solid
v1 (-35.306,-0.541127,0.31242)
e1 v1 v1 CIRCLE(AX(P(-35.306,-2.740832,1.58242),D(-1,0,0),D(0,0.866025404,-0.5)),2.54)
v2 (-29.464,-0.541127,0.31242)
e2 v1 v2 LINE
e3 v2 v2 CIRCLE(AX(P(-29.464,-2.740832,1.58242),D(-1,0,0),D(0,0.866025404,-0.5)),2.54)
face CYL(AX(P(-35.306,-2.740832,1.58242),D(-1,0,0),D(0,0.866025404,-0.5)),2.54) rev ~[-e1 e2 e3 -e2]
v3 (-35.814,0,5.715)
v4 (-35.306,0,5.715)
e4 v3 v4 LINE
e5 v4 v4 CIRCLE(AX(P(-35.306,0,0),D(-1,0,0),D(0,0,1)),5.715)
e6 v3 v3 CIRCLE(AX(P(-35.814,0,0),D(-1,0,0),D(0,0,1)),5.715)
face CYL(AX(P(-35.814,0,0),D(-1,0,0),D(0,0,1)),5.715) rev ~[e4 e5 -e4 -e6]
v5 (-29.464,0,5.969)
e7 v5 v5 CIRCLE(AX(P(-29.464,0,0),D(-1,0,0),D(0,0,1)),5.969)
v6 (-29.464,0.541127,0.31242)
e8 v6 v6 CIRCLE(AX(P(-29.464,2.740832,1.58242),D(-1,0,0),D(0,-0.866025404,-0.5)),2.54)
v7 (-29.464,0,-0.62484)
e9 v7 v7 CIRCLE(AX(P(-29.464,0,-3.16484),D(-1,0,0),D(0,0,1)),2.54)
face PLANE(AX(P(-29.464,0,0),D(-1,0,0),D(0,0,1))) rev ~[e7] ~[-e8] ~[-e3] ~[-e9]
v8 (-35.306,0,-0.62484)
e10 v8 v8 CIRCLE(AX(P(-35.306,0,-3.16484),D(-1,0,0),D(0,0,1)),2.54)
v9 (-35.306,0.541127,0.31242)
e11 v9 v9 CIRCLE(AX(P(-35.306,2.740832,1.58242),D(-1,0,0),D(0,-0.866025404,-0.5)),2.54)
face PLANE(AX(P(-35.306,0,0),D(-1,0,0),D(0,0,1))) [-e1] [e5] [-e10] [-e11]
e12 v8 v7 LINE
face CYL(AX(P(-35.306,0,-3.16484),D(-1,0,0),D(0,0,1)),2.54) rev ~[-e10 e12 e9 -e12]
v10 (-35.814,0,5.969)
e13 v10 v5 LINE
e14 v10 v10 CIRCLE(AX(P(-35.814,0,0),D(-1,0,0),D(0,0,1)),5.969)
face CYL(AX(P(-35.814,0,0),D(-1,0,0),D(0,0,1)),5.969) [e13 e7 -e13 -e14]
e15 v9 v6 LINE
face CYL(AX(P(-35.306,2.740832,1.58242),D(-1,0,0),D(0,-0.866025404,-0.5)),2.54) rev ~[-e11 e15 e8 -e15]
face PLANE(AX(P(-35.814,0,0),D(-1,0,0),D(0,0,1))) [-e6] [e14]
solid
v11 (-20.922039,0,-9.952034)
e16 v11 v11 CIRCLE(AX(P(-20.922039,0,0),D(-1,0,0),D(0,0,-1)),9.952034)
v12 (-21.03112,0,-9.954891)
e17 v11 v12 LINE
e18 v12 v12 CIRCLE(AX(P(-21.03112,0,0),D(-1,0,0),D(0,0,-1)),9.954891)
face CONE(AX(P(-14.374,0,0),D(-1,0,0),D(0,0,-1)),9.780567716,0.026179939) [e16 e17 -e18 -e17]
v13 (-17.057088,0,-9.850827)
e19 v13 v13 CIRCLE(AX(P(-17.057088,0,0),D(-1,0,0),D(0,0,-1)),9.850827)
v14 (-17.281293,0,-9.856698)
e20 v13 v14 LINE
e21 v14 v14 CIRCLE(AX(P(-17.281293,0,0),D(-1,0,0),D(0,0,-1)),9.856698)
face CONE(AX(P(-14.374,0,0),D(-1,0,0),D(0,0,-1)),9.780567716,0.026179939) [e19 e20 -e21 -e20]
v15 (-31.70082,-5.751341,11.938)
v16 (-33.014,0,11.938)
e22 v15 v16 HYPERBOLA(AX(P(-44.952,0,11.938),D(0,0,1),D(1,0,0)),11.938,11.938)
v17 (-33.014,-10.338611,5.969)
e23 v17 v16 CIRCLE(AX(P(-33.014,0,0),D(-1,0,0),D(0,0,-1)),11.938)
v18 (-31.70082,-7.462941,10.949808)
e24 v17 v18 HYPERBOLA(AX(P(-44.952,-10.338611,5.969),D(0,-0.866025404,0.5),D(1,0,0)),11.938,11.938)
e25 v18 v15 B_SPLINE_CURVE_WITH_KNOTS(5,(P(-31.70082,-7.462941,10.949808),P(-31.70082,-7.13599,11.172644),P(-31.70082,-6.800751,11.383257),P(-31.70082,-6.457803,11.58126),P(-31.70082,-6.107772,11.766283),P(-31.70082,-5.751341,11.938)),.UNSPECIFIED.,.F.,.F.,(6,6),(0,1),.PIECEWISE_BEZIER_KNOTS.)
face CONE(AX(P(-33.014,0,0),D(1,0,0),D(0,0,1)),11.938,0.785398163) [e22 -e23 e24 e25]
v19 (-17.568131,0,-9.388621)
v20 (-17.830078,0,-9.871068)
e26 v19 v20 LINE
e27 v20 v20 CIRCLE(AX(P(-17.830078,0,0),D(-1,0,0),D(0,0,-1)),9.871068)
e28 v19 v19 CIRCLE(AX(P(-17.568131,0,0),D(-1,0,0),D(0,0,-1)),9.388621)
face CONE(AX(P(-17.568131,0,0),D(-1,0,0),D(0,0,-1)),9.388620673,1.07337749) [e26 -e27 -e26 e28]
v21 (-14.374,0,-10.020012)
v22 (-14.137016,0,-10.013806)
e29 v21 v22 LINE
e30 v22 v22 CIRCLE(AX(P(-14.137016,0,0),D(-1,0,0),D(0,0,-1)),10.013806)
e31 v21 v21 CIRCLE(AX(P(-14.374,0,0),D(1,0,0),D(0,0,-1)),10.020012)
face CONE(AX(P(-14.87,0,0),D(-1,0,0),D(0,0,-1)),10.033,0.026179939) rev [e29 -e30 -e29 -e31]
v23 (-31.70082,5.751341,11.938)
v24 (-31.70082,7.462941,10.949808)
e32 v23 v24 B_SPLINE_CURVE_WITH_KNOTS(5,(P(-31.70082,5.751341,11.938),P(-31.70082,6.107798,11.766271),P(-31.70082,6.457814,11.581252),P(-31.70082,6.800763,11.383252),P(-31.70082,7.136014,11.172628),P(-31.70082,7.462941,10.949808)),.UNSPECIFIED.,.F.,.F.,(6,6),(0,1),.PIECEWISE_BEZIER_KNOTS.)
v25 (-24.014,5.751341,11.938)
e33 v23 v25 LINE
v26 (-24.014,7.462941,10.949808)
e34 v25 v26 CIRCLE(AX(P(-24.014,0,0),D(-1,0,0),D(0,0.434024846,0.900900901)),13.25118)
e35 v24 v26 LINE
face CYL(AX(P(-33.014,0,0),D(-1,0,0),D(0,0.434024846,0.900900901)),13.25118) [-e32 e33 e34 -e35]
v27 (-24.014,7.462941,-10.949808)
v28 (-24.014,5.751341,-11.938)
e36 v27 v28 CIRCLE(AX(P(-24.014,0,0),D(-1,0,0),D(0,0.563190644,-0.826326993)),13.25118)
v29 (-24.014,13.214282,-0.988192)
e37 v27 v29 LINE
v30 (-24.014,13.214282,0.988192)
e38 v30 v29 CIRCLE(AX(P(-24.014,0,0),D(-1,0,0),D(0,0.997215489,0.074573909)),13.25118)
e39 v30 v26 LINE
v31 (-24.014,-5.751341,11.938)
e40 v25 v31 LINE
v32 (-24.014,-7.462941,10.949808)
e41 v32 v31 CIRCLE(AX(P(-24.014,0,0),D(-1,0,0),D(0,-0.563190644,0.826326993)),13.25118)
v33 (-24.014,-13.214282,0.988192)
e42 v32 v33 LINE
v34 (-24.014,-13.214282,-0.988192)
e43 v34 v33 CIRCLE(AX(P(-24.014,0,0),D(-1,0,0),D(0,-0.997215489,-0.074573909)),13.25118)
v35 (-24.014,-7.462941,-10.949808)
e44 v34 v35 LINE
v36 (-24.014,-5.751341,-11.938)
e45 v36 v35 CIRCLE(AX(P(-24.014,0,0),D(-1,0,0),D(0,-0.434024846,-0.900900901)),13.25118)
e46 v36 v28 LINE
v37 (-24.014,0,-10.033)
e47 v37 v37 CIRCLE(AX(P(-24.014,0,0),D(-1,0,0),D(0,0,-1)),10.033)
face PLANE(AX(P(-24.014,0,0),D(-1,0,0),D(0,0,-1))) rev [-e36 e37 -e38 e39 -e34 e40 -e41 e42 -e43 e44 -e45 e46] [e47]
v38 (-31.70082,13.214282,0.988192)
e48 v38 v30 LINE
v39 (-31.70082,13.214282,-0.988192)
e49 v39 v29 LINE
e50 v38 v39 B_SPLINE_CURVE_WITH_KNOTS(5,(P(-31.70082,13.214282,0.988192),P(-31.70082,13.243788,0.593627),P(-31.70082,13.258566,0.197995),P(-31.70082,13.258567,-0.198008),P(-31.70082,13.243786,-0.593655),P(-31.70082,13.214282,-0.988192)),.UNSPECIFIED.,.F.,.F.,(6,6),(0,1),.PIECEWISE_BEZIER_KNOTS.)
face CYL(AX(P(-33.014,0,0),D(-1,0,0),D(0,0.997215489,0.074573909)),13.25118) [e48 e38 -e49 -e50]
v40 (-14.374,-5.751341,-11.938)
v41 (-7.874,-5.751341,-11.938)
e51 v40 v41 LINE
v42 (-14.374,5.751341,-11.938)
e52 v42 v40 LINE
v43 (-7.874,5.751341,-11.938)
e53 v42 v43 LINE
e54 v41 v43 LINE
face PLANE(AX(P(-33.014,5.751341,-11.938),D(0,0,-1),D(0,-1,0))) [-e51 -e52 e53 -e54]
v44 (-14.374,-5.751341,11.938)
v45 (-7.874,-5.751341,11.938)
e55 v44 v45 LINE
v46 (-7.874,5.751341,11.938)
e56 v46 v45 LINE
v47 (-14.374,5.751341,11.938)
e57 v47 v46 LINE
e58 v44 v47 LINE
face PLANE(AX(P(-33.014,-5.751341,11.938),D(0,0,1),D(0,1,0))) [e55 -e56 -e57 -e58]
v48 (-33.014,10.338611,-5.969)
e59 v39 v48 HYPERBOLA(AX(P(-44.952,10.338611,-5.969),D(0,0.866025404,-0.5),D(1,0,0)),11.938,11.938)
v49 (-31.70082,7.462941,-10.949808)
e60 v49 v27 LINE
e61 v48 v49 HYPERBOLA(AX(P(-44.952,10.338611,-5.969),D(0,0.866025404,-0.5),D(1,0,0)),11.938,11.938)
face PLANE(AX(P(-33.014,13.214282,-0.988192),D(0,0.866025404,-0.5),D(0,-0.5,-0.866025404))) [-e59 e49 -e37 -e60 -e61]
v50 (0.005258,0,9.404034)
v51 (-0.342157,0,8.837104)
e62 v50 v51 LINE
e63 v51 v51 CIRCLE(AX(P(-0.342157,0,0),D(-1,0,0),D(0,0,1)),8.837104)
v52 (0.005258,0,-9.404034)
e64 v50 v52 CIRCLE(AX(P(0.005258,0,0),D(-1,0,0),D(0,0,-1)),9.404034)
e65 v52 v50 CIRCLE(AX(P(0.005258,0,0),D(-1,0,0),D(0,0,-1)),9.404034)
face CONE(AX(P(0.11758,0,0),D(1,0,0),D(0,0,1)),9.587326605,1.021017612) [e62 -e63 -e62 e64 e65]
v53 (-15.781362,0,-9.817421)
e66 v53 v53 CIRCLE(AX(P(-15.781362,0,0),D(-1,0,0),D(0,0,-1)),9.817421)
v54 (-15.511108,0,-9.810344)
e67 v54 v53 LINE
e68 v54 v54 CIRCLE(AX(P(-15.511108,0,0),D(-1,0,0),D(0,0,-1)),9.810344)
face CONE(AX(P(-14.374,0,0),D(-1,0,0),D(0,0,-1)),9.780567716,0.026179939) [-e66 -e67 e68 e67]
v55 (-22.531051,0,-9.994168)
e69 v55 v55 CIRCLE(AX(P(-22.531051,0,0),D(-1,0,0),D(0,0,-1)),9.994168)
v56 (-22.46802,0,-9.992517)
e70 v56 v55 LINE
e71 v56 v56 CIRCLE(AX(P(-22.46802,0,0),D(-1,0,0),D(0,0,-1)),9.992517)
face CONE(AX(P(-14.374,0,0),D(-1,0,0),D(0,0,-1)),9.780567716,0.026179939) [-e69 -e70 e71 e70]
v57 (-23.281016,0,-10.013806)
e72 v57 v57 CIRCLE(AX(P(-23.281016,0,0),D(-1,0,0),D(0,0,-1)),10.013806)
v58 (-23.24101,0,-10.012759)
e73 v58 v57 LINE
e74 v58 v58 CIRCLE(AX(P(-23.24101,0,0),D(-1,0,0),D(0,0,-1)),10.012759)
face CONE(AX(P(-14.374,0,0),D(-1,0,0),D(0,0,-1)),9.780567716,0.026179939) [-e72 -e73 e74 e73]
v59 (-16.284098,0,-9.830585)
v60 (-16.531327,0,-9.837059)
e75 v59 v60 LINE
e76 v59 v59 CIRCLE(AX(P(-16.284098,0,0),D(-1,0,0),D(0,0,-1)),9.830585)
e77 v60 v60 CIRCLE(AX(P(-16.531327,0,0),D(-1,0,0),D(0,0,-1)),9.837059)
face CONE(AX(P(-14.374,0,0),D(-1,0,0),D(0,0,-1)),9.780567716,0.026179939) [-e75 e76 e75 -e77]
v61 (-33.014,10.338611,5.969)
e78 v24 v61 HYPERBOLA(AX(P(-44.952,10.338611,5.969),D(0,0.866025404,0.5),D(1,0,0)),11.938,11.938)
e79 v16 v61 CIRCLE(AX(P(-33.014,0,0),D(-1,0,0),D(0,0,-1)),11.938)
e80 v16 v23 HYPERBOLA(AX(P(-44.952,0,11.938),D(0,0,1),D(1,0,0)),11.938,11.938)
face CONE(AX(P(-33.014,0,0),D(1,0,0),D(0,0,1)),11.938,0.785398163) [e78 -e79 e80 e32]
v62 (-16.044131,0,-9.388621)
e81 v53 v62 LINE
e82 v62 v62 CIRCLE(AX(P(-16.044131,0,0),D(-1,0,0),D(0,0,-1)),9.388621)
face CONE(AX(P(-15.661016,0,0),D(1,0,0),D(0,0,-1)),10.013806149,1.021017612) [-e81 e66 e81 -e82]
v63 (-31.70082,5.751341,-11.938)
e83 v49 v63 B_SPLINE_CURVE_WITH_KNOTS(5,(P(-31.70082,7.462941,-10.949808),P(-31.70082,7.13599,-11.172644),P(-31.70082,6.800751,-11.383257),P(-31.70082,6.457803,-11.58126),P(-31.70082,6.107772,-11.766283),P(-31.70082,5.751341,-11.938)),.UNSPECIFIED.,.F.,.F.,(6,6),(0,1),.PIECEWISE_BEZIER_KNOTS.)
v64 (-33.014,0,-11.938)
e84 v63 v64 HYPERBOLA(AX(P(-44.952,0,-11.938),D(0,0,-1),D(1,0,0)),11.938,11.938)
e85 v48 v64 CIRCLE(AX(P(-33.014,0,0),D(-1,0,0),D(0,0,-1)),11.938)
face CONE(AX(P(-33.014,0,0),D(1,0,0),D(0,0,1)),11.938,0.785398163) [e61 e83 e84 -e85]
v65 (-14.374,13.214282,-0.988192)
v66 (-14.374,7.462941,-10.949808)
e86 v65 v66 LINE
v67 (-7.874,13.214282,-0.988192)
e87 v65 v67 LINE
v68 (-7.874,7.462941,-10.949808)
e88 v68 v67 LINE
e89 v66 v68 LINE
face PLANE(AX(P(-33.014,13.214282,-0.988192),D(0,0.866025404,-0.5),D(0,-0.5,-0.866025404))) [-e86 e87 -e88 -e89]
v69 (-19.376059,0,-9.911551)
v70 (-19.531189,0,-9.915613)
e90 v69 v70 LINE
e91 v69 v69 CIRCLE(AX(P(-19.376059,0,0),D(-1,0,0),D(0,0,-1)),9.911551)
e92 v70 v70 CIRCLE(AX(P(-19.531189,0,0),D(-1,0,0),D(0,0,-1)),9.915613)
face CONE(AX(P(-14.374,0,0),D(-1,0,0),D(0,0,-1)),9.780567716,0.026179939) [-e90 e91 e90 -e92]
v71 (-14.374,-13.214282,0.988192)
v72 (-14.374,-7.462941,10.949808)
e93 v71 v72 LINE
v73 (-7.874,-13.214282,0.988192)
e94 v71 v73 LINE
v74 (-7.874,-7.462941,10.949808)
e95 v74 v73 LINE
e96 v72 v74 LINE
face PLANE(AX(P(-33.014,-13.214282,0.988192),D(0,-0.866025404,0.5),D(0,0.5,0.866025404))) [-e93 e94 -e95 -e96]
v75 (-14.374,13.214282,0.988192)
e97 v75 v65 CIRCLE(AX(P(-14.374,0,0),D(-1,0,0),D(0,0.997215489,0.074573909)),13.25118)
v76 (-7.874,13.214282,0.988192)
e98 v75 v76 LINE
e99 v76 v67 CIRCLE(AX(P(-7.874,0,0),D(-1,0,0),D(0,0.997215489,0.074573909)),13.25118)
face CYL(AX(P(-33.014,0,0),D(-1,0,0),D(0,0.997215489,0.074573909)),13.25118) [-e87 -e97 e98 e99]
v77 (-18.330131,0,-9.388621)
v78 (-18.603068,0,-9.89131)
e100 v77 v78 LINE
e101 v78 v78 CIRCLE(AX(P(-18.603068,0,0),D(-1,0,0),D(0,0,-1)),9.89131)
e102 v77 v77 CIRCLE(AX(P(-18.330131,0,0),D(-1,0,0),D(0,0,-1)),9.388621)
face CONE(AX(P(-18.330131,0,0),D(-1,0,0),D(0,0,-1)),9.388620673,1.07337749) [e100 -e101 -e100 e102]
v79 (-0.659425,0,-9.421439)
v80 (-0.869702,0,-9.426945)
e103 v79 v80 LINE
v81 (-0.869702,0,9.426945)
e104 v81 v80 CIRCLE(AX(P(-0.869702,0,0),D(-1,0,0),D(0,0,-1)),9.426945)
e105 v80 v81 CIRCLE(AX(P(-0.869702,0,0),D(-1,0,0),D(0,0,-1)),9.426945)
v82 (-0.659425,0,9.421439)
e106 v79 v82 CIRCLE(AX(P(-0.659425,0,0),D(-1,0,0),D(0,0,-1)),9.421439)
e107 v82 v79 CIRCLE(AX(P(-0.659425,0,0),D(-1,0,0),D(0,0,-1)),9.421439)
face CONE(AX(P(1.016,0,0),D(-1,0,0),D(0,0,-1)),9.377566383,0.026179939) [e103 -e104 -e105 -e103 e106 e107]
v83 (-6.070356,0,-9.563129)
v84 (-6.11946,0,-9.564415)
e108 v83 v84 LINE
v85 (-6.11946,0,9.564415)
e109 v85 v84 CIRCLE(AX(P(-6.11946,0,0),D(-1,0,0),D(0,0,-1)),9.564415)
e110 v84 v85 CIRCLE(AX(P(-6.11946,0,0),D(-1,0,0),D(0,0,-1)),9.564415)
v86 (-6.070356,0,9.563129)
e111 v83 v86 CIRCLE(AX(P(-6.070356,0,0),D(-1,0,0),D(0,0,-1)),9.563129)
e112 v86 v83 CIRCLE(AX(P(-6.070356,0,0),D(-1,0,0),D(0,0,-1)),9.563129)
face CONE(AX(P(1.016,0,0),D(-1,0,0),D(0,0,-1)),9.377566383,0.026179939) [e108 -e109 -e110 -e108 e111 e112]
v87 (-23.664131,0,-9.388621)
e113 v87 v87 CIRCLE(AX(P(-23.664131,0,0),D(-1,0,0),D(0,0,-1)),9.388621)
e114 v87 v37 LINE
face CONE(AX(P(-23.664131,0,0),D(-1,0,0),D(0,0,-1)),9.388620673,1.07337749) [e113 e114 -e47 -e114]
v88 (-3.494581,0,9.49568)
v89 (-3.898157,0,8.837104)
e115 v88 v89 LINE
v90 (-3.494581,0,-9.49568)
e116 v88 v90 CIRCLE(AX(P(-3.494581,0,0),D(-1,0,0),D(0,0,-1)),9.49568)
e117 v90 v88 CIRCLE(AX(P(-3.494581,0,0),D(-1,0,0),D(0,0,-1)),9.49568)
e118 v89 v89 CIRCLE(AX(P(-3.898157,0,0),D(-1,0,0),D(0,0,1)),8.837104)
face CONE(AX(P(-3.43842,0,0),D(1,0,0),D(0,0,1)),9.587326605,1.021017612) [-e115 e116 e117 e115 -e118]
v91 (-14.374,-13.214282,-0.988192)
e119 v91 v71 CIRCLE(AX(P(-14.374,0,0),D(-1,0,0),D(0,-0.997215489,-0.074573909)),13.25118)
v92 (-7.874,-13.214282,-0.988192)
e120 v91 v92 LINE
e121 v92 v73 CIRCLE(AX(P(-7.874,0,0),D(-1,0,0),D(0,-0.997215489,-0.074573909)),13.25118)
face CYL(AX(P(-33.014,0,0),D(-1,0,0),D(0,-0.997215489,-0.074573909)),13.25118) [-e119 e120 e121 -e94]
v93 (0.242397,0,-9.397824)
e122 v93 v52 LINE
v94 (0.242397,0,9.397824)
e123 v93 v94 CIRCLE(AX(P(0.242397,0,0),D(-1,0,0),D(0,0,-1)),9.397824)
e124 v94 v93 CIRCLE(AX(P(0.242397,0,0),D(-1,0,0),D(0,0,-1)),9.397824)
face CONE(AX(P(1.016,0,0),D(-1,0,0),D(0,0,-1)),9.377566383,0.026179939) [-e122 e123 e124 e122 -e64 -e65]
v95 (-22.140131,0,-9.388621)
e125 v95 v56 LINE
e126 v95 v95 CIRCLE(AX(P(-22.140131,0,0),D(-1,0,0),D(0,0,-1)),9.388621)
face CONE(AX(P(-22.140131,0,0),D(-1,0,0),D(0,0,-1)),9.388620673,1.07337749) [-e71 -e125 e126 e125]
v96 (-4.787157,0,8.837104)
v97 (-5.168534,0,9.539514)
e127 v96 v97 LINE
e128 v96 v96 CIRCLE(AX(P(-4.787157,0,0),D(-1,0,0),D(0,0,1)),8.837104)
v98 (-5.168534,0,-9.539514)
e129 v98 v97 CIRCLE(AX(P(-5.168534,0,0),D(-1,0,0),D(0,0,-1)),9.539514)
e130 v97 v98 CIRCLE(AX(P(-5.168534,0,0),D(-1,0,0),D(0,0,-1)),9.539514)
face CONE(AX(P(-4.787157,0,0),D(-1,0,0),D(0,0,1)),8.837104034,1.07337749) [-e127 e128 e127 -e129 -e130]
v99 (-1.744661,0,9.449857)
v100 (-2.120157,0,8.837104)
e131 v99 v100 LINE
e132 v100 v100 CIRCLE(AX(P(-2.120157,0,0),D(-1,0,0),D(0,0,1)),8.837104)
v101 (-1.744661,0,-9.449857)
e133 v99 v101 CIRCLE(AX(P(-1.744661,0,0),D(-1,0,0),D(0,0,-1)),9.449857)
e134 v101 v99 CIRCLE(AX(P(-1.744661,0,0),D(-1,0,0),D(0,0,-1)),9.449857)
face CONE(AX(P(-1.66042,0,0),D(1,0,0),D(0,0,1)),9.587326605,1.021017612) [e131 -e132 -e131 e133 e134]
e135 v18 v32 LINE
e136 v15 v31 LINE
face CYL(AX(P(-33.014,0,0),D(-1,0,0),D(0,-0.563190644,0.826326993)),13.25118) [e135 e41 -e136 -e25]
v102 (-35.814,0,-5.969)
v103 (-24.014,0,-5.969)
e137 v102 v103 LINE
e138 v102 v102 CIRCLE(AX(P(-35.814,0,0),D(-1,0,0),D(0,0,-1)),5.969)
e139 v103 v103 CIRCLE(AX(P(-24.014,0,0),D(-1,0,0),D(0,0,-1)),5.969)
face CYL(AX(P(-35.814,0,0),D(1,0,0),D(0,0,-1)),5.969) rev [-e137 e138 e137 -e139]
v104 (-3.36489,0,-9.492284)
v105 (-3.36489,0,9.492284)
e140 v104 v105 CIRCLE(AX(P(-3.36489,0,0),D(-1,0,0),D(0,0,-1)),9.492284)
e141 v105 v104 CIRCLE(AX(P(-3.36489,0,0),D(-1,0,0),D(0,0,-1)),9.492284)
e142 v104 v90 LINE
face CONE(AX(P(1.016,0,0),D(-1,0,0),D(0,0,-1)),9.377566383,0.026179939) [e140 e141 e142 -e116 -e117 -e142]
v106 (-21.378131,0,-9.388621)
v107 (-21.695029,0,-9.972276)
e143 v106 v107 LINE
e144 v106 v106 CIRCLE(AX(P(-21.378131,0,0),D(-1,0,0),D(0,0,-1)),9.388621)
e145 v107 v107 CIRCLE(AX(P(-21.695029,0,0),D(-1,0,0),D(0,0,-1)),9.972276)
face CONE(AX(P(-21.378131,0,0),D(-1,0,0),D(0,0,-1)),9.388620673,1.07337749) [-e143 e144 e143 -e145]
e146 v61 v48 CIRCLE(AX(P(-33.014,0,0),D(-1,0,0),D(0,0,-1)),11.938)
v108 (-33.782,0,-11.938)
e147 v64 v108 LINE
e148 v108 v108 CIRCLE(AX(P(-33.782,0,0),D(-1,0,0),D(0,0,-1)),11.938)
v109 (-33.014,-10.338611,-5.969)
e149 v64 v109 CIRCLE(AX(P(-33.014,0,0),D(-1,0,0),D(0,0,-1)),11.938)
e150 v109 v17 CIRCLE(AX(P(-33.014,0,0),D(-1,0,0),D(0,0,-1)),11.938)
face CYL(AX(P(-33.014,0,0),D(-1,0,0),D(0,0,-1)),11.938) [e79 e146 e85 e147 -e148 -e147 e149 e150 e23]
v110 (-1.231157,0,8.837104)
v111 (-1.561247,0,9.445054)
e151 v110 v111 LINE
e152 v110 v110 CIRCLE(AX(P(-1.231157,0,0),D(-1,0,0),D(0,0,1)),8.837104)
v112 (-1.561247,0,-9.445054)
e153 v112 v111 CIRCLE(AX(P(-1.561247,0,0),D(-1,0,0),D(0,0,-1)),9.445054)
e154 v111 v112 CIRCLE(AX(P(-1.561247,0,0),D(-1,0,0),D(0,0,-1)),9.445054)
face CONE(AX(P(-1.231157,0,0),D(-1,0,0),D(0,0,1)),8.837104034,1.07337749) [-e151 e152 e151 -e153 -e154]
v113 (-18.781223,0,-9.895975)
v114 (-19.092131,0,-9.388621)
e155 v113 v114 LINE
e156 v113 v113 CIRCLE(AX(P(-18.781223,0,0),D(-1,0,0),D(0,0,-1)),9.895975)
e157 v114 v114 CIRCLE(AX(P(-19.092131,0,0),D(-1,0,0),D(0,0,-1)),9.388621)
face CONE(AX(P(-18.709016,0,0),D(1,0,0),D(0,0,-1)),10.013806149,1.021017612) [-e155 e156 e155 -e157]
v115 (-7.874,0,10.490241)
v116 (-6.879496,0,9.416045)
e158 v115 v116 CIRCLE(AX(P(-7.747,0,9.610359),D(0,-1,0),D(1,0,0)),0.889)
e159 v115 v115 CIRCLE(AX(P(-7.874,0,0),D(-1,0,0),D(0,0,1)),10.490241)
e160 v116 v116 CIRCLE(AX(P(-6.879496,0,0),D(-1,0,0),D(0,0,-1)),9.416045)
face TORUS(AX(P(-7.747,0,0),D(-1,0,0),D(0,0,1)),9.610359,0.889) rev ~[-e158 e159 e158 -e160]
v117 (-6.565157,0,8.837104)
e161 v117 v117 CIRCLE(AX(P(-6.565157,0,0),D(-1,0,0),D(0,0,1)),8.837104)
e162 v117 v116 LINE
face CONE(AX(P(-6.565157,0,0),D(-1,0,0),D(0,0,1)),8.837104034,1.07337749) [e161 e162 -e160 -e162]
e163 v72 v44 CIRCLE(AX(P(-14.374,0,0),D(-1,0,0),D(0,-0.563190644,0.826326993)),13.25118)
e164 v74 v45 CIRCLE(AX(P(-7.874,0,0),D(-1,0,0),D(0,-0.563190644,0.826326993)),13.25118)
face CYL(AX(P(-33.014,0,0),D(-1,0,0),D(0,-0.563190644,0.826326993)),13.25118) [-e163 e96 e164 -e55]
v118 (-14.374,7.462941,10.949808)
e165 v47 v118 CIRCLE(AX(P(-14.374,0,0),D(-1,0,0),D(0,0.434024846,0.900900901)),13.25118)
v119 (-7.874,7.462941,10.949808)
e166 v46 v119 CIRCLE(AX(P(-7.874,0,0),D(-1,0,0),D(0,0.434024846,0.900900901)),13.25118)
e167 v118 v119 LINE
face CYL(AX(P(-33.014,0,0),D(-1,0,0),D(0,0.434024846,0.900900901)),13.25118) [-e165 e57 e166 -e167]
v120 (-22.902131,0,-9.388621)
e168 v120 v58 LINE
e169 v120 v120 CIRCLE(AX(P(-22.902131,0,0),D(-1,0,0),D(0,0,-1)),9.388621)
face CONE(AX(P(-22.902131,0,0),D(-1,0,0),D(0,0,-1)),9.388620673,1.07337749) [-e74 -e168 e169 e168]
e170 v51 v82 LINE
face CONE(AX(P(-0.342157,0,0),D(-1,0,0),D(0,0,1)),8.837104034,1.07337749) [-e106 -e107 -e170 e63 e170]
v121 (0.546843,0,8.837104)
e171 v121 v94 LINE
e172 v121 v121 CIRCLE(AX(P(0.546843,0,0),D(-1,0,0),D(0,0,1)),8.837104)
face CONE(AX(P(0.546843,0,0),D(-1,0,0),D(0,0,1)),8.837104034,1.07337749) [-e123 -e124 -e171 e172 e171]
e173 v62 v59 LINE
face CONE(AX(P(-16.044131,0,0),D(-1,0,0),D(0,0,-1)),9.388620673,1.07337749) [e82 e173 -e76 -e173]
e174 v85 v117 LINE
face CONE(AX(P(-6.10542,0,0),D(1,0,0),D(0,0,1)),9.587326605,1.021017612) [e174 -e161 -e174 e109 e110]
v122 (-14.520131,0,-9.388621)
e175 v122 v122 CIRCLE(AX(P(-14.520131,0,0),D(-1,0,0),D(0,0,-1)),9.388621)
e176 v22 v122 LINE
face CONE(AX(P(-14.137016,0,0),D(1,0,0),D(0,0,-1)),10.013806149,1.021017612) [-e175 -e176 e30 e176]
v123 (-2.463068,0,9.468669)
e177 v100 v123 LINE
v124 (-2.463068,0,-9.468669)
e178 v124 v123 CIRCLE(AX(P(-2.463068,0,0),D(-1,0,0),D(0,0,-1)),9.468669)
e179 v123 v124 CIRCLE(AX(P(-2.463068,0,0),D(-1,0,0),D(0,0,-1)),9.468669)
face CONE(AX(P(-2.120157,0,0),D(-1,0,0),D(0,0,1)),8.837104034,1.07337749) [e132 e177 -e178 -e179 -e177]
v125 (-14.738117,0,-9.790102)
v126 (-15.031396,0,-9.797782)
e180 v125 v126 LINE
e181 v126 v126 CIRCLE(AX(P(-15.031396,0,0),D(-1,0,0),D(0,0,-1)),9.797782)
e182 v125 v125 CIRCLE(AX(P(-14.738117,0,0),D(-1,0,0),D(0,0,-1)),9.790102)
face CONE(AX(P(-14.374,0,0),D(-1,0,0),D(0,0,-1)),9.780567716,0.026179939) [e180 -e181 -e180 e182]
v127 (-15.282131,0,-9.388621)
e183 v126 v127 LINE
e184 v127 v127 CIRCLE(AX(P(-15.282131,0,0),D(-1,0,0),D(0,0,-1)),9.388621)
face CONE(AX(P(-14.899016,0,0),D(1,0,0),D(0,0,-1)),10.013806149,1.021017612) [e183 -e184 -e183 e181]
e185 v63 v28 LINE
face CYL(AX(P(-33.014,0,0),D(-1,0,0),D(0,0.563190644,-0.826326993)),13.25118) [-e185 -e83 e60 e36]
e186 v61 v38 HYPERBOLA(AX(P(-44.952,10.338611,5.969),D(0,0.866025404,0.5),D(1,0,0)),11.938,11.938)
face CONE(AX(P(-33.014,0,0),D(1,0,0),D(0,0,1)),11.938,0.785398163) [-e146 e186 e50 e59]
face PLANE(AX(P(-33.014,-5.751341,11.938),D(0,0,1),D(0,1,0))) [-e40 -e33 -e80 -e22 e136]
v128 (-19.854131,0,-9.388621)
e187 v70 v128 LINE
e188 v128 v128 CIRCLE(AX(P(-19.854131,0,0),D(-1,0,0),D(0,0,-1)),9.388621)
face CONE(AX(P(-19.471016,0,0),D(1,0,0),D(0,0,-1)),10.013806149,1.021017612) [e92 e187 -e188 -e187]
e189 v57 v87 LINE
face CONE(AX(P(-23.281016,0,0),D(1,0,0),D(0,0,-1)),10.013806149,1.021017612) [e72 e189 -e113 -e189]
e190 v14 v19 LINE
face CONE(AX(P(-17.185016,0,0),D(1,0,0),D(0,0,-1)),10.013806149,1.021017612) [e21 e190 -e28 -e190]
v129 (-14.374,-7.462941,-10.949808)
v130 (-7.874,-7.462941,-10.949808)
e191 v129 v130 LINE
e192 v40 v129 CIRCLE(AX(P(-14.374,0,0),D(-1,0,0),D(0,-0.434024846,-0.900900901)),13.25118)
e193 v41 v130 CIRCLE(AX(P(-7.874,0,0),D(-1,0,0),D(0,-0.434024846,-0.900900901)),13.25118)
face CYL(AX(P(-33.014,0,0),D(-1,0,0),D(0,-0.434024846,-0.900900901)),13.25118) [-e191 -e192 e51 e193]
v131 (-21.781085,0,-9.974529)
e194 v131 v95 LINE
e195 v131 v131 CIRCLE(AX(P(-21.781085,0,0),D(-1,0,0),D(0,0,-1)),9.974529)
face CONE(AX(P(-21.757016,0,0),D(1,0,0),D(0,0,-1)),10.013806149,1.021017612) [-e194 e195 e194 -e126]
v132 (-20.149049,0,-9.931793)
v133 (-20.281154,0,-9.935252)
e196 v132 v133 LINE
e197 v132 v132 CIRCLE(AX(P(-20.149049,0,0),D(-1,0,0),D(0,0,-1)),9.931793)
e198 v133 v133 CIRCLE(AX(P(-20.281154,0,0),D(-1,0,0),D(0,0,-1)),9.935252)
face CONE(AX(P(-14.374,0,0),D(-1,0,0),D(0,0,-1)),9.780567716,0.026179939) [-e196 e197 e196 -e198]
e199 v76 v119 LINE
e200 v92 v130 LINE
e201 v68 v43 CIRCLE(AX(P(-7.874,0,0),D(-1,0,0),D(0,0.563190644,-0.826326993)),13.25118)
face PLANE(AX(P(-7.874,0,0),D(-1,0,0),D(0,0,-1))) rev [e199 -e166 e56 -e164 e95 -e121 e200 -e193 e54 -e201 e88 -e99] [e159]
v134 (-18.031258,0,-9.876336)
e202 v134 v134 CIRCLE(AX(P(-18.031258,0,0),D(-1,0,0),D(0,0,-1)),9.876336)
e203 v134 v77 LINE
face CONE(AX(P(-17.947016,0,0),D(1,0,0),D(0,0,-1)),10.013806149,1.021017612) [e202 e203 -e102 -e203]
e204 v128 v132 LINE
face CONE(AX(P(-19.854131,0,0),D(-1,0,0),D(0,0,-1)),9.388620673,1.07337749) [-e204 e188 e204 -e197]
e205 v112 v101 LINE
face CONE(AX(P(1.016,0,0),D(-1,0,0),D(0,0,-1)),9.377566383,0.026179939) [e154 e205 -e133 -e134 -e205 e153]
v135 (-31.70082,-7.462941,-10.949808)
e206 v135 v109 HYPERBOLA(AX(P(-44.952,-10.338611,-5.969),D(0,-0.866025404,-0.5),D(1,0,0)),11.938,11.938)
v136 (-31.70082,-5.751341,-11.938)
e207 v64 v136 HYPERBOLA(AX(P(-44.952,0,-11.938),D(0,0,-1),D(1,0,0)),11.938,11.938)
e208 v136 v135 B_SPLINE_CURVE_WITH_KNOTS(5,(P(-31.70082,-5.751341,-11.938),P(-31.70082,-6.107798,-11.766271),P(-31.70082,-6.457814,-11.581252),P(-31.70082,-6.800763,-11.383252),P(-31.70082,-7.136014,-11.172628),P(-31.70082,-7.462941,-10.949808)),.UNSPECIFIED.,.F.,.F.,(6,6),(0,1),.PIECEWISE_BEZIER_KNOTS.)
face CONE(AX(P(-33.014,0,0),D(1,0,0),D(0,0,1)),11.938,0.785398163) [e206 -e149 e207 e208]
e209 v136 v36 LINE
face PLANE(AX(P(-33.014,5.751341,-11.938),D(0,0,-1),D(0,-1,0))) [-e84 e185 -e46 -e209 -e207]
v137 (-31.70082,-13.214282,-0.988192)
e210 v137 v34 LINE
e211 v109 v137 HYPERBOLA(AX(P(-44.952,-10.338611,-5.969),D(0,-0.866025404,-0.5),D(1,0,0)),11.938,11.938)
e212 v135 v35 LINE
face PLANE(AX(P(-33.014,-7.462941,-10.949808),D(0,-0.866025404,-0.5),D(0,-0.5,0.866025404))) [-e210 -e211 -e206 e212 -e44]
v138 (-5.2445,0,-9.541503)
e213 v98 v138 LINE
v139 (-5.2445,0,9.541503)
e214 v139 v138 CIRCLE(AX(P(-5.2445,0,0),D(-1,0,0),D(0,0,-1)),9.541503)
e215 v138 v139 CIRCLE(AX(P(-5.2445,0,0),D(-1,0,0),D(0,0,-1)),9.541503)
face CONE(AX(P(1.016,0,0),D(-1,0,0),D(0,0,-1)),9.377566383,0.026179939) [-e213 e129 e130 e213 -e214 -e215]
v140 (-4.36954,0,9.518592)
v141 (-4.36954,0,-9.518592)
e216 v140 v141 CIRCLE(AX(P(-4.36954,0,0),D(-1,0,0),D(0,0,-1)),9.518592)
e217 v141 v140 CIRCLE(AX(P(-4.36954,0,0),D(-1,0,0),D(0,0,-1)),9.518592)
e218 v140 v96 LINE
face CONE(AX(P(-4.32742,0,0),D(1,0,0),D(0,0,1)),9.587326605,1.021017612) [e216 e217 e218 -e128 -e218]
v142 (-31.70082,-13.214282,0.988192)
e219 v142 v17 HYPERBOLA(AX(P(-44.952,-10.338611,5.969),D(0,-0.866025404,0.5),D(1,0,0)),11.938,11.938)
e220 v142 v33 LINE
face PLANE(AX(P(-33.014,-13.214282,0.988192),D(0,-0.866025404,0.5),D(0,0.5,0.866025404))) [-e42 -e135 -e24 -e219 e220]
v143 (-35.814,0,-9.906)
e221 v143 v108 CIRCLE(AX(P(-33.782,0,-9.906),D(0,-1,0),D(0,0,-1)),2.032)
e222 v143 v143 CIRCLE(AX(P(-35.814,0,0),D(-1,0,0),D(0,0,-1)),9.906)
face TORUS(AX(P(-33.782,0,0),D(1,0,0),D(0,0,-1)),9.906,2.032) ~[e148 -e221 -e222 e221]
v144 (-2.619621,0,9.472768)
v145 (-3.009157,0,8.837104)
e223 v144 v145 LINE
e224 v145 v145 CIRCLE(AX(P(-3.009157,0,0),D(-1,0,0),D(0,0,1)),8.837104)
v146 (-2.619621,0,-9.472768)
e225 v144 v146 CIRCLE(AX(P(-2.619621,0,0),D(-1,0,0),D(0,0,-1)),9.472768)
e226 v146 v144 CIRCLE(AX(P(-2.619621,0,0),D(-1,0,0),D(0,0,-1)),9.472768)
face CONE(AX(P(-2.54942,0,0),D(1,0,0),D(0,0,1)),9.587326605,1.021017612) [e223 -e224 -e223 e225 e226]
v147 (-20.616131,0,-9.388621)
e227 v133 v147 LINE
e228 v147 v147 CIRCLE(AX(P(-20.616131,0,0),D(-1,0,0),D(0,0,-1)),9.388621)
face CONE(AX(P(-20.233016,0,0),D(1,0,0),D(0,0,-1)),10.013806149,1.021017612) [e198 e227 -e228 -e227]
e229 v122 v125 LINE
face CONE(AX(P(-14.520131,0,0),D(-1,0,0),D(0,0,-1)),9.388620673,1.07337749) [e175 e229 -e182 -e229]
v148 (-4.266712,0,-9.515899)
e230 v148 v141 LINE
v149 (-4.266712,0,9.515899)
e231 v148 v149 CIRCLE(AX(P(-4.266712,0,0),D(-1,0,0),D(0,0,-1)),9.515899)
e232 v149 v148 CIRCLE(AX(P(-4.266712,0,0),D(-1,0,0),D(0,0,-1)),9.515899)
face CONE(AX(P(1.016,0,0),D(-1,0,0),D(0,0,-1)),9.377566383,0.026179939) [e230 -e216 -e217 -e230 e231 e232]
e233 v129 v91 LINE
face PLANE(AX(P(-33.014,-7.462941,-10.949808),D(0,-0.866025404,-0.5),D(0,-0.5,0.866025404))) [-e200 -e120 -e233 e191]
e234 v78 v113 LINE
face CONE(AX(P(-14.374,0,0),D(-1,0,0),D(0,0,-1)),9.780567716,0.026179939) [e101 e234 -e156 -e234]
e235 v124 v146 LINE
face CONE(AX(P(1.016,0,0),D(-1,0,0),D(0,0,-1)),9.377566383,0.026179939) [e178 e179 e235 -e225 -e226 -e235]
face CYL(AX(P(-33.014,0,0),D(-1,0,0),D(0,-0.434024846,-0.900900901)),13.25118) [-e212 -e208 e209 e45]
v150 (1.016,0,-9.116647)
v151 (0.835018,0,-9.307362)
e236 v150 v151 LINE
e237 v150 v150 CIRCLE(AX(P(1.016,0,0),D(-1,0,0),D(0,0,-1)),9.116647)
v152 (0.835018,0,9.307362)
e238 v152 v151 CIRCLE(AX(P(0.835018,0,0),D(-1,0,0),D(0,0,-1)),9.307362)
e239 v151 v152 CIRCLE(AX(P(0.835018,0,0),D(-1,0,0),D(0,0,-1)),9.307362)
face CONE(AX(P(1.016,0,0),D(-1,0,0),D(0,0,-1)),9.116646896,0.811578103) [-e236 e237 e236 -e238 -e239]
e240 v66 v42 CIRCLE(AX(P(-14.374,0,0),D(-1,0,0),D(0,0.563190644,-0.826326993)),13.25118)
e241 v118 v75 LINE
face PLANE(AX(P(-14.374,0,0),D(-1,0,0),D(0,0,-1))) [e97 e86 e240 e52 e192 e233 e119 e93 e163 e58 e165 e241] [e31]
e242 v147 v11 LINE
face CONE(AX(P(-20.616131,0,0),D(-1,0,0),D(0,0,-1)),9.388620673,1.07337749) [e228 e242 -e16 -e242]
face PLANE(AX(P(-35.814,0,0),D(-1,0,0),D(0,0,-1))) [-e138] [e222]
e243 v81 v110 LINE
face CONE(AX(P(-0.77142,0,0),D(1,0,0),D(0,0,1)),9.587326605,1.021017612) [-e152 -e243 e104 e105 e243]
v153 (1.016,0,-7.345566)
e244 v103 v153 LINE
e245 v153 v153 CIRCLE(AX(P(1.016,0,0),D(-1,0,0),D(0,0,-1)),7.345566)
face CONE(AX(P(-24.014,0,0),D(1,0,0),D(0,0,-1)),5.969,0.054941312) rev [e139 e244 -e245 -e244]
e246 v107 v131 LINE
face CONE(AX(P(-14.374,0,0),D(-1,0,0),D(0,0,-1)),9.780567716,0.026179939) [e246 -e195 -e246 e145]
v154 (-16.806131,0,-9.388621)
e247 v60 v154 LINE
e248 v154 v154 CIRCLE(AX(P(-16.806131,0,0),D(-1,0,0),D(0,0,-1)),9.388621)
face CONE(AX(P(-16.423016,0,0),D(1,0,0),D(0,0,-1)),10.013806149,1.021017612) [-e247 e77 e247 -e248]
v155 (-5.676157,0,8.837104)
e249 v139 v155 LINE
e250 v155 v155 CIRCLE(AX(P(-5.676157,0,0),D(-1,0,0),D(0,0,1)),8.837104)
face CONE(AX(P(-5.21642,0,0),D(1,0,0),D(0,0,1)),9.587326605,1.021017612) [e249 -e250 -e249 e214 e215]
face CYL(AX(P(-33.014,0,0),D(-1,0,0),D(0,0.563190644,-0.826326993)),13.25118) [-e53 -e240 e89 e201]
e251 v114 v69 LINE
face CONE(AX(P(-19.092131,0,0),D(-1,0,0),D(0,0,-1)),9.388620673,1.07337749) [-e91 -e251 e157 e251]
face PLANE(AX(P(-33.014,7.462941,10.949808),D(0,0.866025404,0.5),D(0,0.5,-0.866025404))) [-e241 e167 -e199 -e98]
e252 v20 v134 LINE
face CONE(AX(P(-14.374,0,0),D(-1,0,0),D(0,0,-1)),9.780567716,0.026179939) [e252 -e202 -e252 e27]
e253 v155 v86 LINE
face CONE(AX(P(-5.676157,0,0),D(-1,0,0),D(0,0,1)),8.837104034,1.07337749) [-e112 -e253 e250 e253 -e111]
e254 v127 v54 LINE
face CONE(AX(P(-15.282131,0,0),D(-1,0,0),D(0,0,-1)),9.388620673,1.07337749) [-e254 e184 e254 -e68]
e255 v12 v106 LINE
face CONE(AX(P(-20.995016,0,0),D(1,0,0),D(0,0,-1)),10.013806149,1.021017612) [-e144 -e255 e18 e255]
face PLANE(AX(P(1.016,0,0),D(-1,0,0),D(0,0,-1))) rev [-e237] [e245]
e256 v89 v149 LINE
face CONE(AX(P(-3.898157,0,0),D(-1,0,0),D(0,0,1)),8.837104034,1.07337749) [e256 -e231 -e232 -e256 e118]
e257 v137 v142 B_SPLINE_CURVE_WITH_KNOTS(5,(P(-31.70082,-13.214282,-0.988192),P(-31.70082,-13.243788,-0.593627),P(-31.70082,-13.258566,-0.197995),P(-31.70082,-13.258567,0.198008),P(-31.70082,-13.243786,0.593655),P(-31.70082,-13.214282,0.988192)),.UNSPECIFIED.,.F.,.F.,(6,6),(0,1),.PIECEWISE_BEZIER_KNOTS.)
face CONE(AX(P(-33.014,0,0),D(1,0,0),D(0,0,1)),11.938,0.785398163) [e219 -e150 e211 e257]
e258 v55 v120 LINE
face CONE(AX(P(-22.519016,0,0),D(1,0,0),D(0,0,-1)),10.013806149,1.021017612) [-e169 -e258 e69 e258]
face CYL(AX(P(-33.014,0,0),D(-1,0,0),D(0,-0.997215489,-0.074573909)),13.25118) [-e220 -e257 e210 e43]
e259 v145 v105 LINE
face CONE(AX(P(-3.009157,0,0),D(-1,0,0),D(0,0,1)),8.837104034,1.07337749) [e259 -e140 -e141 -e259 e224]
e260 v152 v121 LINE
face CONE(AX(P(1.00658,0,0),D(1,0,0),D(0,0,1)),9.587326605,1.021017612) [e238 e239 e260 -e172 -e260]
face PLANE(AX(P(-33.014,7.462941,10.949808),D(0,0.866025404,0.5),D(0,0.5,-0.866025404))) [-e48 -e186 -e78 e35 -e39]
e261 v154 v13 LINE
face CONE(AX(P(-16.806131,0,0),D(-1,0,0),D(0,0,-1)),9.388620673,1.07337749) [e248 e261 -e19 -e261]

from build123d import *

# Parameters (mm, degrees)
SKETCH12_OUTSIDE_W = 65.136
SKETCH12_OUTSIDE_H = 65.136
CUT_EXTRUDE2_DEPTH = 35.03
FILLET4_R          = 2.032
SKETCH19_OUTSIDE_W = 40.13
SKETCH19_OUTSIDE_H = 42.756
SKETCH19_OUTSIDE_R = 11.938
CUT_EXTRUDE3_DEPTH = 1.999996
CUT_EXTRUDE3_DRAFT = -45
CHAMFER1_SIZE      = 0.260919487
CHAMFER1_SIZE2     = 0.254
SKETCH21_R         = 5.969
PLUG_DEPTH         = 6.35
SKETCH22_R         = 5.715
CUT_EXTRUDE4_DEPTH = 0.508
SKETCH27_R         = 2.54
PLUGHOLES_DEPTH    = 37.322
CIRPATTERN1_COUNT  = 3
LPATTERN1_COUNT    = 13
LPATTERN1_PITCH    = 0.762
LPATTERN2_COUNT    = 10
LPATTERN2_PITCH    = 0.889
SKETCH32_R         = 0.889


with BuildPart() as part:
    # Sketch10 → Revolve2 (revolve)
    with BuildSketch(Plane.XY, mode=Mode.PRIVATE) as revolve2_sk:
        Polygon((-35.814, 5.969), (-24.014, 5.969), (1.016, 7.345566383), (1.016, 9.377566383), (-7.874, 9.610359226), (-7.874, 23.876), (-14.374, 23.876), (-14.374, 9.780567716), (-24.014, 10.033), (-24.014, 23.876), (-33.014, 23.876), (-33.014, 11.938), (-35.814, 11.938), align=None)
    revolve(revolve2_sk.sketch.rotate(Axis((0, 0, 0), (-1, 0, 0)), 90), axis=Axis((0, 0, 0), (-1, 0, 0)))  # turned: the seam where the file's is

    # Sketch12 outside → Cut-Extrude2 (cut, through all)
    with BuildSketch(Plane.ZY.offset(33.014)):
        Rectangle(SKETCH12_OUTSIDE_W, SKETCH12_OUTSIDE_H)
        with BuildLine():
            Line((-0.98819228, 13.214281948), (-10.94980772, 7.462940592))
            ThreePointArc((-10.94980772, 7.462940592), (-11.47585851, 6.62559), (-11.938, 5.751341356))
            Line((-11.938, 5.751341356), (-11.938, -5.751341356))
            ThreePointArc((-11.938, -5.751341356), (-11.47585851, -6.62559), (-10.94980772, -7.462940592))
            Line((-10.94980772, -7.462940592), (-0.98819228, -13.214281948))
            ThreePointArc((-0.98819228, -13.214281948), (0, -13.25118), (0.98819228, -13.214281948))
            Line((0.98819228, -13.214281948), (10.94980772, -7.462940592))
            ThreePointArc((10.94980772, -7.462940592), (11.47585851, -6.62559), (11.938, -5.751341356))
            Line((11.938, -5.751341356), (11.938, 5.751341356))
            ThreePointArc((11.938, 5.751341356), (11.47585851, 6.62559), (10.94980772, 7.462940592))
            Line((10.94980772, 7.462940592), (0.98819228, 13.214281948))
            ThreePointArc((0.98819228, 13.214281948), (0, 13.25118), (-0.98819228, 13.214281948))
        make_face(mode=Mode.SUBTRACT)
    extrude(amount=-CUT_EXTRUDE2_DEPTH, mode=Mode.SUBTRACT)

    # Fillet4
    fillet4_edges = [part.edges().sort_by_distance(p)[0] for p in [
        (-35.814, 0, 11.938),
    ]]
    fillet(fillet4_edges, radius=FILLET4_R)


with BuildPart() as cut_extrude3_tool:
    # Sketch19 outside → Cut-Extrude3 (with draft: the straight prism first)
    with BuildSketch(Plane.ZY.offset(33.014)):
        Rectangle(SKETCH19_OUTSIDE_W, SKETCH19_OUTSIDE_H)
        Circle(SKETCH19_OUTSIDE_R, mode=Mode.SUBTRACT)
    extrude(amount=-CUT_EXTRUDE3_DEPTH)
    # Cut-Extrude3: the draft: its side faces are tilted about the plane it starts from
    cut_extrude3_sides = [cut_extrude3_tool.faces().sort_by_distance(p)[0] for p in [
        (-32.014002, -21.378, 0),
        (-32.014002, 0, 20.065),
        (-32.014002, 21.378, 0),
        (-32.014002, 0, -20.065),
        (-32.014002, 0, -11.938),
    ]]
    draft(cut_extrude3_sides, Plane.ZY.offset(33.014), CUT_EXTRUDE3_DRAFT)


with BuildPart() as part_1:
    add(part.part)

    # Cut-Extrude3: cut by cut_extrude3_tool
    add(cut_extrude3_tool.part, mode=Mode.SUBTRACT)

    # Chamfer1
    chamfer1_edges = [part_1.edges().sort_by_distance(p)[0] for p in [
        (1.016, 0, 9.377566383),
    ]]
    chamfer1_side = [part_1.faces().sort_by_distance(p)[0] for p in [
        (1.016, 0, 7.610804014),
    ]]
    chamfer(chamfer1_edges, length=CHAMFER1_SIZE, length2=CHAMFER1_SIZE2, reference=chamfer1_side[0])

    # Sketch29 → Cut-Revolve1 (revolve, cut)
    with BuildSketch(Plane.XY, mode=Mode.PRIVATE) as cut_revolve1_sk:
        Polygon((-24.014, 10.033), (-23.281016419, 10.013806149), (-23.664130572, 9.388620673), align=None)
    cut_revolve1 = revolve(cut_revolve1_sk.sketch.rotate(Axis((0, 0, 0), (-1, 0, 0)), 90), axis=Axis((0, 0, 0), (-1, 0, 0)), mode=Mode.SUBTRACT)  # turned: the seam where the file's is

    # LPattern1: Cut-Revolve1 ×13
    with Locations(*[(i * LPATTERN1_PITCH, 0, 0) for i in range(1, LPATTERN1_COUNT)]):
        add(cut_revolve1, mode=Mode.SUBTRACT)

    # Sketch30 → Cut-Revolve2 (revolve, cut)
    with BuildSketch(Plane.XY, mode=Mode.PRIVATE) as cut_revolve2_sk:
        Polygon((-7.874, 9.610359226), (-6.994419703, 9.587326605), (-7.454156686, 8.837104034), align=None)
    cut_revolve2 = revolve(cut_revolve2_sk.sketch.rotate(Axis((0, 0, 0), (-1, 0, 0)), 270), axis=Axis((0, 0, 0), (-1, 0, 0)), mode=Mode.SUBTRACT)  # turned: the seam where the file's is

    # LPattern2: Cut-Revolve2 ×10
    with Locations(*[(i * LPATTERN2_PITCH, 0, 0) for i in range(1, LPATTERN2_COUNT)]):
        add(cut_revolve2, mode=Mode.SUBTRACT)

    # Sketch32 → Cut-Revolve3 (revolve, cut)
    with BuildSketch(Plane.XY, mode=Mode.PRIVATE) as cut_revolve3_sk:
        with Locations((-7.747, 9.610359226)):
            Circle(SKETCH32_R)
    revolve(cut_revolve3_sk.sketch.rotate(Axis((0, 0, 0), (-1, 0, 0)), 270), axis=Axis((0, 0, 0), (-1, 0, 0)), mode=Mode.SUBTRACT)  # turned: the seam where the file's is


with BuildPart() as body_2:
    # Sketch21 → plug (new body)
    with BuildSketch(Plane.ZY.offset(35.814)):
        Circle(SKETCH21_R)
    extrude(amount=-PLUG_DEPTH)

    # Sketch22 → Cut-Extrude4 (cut)
    with BuildSketch(Plane.ZY.offset(35.814)):
        Circle(SKETCH22_R)
    extrude(amount=-CUT_EXTRUDE4_DEPTH, mode=Mode.SUBTRACT)

    # Sketch27 → plugholes (cut, through all)
    with BuildSketch(Plane.ZY.offset(35.306)):
        with Locations((-3.16484, 0)):
            Circle(SKETCH27_R)
    plugholes = extrude(amount=-PLUGHOLES_DEPTH, mode=Mode.SUBTRACT)

    # CirPattern1: plugholes ×3 about axis
    cirpattern1_axis = Axis((0, 0, 0), (1, 0, 0))
    for i in range(1, CIRPATTERN1_COUNT):
        add(plugholes.rotate(cirpattern1_axis, i * 360 / CIRPATTERN1_COUNT), mode=Mode.SUBTRACT)


solid = Compound([part_1.part, body_2.part])
